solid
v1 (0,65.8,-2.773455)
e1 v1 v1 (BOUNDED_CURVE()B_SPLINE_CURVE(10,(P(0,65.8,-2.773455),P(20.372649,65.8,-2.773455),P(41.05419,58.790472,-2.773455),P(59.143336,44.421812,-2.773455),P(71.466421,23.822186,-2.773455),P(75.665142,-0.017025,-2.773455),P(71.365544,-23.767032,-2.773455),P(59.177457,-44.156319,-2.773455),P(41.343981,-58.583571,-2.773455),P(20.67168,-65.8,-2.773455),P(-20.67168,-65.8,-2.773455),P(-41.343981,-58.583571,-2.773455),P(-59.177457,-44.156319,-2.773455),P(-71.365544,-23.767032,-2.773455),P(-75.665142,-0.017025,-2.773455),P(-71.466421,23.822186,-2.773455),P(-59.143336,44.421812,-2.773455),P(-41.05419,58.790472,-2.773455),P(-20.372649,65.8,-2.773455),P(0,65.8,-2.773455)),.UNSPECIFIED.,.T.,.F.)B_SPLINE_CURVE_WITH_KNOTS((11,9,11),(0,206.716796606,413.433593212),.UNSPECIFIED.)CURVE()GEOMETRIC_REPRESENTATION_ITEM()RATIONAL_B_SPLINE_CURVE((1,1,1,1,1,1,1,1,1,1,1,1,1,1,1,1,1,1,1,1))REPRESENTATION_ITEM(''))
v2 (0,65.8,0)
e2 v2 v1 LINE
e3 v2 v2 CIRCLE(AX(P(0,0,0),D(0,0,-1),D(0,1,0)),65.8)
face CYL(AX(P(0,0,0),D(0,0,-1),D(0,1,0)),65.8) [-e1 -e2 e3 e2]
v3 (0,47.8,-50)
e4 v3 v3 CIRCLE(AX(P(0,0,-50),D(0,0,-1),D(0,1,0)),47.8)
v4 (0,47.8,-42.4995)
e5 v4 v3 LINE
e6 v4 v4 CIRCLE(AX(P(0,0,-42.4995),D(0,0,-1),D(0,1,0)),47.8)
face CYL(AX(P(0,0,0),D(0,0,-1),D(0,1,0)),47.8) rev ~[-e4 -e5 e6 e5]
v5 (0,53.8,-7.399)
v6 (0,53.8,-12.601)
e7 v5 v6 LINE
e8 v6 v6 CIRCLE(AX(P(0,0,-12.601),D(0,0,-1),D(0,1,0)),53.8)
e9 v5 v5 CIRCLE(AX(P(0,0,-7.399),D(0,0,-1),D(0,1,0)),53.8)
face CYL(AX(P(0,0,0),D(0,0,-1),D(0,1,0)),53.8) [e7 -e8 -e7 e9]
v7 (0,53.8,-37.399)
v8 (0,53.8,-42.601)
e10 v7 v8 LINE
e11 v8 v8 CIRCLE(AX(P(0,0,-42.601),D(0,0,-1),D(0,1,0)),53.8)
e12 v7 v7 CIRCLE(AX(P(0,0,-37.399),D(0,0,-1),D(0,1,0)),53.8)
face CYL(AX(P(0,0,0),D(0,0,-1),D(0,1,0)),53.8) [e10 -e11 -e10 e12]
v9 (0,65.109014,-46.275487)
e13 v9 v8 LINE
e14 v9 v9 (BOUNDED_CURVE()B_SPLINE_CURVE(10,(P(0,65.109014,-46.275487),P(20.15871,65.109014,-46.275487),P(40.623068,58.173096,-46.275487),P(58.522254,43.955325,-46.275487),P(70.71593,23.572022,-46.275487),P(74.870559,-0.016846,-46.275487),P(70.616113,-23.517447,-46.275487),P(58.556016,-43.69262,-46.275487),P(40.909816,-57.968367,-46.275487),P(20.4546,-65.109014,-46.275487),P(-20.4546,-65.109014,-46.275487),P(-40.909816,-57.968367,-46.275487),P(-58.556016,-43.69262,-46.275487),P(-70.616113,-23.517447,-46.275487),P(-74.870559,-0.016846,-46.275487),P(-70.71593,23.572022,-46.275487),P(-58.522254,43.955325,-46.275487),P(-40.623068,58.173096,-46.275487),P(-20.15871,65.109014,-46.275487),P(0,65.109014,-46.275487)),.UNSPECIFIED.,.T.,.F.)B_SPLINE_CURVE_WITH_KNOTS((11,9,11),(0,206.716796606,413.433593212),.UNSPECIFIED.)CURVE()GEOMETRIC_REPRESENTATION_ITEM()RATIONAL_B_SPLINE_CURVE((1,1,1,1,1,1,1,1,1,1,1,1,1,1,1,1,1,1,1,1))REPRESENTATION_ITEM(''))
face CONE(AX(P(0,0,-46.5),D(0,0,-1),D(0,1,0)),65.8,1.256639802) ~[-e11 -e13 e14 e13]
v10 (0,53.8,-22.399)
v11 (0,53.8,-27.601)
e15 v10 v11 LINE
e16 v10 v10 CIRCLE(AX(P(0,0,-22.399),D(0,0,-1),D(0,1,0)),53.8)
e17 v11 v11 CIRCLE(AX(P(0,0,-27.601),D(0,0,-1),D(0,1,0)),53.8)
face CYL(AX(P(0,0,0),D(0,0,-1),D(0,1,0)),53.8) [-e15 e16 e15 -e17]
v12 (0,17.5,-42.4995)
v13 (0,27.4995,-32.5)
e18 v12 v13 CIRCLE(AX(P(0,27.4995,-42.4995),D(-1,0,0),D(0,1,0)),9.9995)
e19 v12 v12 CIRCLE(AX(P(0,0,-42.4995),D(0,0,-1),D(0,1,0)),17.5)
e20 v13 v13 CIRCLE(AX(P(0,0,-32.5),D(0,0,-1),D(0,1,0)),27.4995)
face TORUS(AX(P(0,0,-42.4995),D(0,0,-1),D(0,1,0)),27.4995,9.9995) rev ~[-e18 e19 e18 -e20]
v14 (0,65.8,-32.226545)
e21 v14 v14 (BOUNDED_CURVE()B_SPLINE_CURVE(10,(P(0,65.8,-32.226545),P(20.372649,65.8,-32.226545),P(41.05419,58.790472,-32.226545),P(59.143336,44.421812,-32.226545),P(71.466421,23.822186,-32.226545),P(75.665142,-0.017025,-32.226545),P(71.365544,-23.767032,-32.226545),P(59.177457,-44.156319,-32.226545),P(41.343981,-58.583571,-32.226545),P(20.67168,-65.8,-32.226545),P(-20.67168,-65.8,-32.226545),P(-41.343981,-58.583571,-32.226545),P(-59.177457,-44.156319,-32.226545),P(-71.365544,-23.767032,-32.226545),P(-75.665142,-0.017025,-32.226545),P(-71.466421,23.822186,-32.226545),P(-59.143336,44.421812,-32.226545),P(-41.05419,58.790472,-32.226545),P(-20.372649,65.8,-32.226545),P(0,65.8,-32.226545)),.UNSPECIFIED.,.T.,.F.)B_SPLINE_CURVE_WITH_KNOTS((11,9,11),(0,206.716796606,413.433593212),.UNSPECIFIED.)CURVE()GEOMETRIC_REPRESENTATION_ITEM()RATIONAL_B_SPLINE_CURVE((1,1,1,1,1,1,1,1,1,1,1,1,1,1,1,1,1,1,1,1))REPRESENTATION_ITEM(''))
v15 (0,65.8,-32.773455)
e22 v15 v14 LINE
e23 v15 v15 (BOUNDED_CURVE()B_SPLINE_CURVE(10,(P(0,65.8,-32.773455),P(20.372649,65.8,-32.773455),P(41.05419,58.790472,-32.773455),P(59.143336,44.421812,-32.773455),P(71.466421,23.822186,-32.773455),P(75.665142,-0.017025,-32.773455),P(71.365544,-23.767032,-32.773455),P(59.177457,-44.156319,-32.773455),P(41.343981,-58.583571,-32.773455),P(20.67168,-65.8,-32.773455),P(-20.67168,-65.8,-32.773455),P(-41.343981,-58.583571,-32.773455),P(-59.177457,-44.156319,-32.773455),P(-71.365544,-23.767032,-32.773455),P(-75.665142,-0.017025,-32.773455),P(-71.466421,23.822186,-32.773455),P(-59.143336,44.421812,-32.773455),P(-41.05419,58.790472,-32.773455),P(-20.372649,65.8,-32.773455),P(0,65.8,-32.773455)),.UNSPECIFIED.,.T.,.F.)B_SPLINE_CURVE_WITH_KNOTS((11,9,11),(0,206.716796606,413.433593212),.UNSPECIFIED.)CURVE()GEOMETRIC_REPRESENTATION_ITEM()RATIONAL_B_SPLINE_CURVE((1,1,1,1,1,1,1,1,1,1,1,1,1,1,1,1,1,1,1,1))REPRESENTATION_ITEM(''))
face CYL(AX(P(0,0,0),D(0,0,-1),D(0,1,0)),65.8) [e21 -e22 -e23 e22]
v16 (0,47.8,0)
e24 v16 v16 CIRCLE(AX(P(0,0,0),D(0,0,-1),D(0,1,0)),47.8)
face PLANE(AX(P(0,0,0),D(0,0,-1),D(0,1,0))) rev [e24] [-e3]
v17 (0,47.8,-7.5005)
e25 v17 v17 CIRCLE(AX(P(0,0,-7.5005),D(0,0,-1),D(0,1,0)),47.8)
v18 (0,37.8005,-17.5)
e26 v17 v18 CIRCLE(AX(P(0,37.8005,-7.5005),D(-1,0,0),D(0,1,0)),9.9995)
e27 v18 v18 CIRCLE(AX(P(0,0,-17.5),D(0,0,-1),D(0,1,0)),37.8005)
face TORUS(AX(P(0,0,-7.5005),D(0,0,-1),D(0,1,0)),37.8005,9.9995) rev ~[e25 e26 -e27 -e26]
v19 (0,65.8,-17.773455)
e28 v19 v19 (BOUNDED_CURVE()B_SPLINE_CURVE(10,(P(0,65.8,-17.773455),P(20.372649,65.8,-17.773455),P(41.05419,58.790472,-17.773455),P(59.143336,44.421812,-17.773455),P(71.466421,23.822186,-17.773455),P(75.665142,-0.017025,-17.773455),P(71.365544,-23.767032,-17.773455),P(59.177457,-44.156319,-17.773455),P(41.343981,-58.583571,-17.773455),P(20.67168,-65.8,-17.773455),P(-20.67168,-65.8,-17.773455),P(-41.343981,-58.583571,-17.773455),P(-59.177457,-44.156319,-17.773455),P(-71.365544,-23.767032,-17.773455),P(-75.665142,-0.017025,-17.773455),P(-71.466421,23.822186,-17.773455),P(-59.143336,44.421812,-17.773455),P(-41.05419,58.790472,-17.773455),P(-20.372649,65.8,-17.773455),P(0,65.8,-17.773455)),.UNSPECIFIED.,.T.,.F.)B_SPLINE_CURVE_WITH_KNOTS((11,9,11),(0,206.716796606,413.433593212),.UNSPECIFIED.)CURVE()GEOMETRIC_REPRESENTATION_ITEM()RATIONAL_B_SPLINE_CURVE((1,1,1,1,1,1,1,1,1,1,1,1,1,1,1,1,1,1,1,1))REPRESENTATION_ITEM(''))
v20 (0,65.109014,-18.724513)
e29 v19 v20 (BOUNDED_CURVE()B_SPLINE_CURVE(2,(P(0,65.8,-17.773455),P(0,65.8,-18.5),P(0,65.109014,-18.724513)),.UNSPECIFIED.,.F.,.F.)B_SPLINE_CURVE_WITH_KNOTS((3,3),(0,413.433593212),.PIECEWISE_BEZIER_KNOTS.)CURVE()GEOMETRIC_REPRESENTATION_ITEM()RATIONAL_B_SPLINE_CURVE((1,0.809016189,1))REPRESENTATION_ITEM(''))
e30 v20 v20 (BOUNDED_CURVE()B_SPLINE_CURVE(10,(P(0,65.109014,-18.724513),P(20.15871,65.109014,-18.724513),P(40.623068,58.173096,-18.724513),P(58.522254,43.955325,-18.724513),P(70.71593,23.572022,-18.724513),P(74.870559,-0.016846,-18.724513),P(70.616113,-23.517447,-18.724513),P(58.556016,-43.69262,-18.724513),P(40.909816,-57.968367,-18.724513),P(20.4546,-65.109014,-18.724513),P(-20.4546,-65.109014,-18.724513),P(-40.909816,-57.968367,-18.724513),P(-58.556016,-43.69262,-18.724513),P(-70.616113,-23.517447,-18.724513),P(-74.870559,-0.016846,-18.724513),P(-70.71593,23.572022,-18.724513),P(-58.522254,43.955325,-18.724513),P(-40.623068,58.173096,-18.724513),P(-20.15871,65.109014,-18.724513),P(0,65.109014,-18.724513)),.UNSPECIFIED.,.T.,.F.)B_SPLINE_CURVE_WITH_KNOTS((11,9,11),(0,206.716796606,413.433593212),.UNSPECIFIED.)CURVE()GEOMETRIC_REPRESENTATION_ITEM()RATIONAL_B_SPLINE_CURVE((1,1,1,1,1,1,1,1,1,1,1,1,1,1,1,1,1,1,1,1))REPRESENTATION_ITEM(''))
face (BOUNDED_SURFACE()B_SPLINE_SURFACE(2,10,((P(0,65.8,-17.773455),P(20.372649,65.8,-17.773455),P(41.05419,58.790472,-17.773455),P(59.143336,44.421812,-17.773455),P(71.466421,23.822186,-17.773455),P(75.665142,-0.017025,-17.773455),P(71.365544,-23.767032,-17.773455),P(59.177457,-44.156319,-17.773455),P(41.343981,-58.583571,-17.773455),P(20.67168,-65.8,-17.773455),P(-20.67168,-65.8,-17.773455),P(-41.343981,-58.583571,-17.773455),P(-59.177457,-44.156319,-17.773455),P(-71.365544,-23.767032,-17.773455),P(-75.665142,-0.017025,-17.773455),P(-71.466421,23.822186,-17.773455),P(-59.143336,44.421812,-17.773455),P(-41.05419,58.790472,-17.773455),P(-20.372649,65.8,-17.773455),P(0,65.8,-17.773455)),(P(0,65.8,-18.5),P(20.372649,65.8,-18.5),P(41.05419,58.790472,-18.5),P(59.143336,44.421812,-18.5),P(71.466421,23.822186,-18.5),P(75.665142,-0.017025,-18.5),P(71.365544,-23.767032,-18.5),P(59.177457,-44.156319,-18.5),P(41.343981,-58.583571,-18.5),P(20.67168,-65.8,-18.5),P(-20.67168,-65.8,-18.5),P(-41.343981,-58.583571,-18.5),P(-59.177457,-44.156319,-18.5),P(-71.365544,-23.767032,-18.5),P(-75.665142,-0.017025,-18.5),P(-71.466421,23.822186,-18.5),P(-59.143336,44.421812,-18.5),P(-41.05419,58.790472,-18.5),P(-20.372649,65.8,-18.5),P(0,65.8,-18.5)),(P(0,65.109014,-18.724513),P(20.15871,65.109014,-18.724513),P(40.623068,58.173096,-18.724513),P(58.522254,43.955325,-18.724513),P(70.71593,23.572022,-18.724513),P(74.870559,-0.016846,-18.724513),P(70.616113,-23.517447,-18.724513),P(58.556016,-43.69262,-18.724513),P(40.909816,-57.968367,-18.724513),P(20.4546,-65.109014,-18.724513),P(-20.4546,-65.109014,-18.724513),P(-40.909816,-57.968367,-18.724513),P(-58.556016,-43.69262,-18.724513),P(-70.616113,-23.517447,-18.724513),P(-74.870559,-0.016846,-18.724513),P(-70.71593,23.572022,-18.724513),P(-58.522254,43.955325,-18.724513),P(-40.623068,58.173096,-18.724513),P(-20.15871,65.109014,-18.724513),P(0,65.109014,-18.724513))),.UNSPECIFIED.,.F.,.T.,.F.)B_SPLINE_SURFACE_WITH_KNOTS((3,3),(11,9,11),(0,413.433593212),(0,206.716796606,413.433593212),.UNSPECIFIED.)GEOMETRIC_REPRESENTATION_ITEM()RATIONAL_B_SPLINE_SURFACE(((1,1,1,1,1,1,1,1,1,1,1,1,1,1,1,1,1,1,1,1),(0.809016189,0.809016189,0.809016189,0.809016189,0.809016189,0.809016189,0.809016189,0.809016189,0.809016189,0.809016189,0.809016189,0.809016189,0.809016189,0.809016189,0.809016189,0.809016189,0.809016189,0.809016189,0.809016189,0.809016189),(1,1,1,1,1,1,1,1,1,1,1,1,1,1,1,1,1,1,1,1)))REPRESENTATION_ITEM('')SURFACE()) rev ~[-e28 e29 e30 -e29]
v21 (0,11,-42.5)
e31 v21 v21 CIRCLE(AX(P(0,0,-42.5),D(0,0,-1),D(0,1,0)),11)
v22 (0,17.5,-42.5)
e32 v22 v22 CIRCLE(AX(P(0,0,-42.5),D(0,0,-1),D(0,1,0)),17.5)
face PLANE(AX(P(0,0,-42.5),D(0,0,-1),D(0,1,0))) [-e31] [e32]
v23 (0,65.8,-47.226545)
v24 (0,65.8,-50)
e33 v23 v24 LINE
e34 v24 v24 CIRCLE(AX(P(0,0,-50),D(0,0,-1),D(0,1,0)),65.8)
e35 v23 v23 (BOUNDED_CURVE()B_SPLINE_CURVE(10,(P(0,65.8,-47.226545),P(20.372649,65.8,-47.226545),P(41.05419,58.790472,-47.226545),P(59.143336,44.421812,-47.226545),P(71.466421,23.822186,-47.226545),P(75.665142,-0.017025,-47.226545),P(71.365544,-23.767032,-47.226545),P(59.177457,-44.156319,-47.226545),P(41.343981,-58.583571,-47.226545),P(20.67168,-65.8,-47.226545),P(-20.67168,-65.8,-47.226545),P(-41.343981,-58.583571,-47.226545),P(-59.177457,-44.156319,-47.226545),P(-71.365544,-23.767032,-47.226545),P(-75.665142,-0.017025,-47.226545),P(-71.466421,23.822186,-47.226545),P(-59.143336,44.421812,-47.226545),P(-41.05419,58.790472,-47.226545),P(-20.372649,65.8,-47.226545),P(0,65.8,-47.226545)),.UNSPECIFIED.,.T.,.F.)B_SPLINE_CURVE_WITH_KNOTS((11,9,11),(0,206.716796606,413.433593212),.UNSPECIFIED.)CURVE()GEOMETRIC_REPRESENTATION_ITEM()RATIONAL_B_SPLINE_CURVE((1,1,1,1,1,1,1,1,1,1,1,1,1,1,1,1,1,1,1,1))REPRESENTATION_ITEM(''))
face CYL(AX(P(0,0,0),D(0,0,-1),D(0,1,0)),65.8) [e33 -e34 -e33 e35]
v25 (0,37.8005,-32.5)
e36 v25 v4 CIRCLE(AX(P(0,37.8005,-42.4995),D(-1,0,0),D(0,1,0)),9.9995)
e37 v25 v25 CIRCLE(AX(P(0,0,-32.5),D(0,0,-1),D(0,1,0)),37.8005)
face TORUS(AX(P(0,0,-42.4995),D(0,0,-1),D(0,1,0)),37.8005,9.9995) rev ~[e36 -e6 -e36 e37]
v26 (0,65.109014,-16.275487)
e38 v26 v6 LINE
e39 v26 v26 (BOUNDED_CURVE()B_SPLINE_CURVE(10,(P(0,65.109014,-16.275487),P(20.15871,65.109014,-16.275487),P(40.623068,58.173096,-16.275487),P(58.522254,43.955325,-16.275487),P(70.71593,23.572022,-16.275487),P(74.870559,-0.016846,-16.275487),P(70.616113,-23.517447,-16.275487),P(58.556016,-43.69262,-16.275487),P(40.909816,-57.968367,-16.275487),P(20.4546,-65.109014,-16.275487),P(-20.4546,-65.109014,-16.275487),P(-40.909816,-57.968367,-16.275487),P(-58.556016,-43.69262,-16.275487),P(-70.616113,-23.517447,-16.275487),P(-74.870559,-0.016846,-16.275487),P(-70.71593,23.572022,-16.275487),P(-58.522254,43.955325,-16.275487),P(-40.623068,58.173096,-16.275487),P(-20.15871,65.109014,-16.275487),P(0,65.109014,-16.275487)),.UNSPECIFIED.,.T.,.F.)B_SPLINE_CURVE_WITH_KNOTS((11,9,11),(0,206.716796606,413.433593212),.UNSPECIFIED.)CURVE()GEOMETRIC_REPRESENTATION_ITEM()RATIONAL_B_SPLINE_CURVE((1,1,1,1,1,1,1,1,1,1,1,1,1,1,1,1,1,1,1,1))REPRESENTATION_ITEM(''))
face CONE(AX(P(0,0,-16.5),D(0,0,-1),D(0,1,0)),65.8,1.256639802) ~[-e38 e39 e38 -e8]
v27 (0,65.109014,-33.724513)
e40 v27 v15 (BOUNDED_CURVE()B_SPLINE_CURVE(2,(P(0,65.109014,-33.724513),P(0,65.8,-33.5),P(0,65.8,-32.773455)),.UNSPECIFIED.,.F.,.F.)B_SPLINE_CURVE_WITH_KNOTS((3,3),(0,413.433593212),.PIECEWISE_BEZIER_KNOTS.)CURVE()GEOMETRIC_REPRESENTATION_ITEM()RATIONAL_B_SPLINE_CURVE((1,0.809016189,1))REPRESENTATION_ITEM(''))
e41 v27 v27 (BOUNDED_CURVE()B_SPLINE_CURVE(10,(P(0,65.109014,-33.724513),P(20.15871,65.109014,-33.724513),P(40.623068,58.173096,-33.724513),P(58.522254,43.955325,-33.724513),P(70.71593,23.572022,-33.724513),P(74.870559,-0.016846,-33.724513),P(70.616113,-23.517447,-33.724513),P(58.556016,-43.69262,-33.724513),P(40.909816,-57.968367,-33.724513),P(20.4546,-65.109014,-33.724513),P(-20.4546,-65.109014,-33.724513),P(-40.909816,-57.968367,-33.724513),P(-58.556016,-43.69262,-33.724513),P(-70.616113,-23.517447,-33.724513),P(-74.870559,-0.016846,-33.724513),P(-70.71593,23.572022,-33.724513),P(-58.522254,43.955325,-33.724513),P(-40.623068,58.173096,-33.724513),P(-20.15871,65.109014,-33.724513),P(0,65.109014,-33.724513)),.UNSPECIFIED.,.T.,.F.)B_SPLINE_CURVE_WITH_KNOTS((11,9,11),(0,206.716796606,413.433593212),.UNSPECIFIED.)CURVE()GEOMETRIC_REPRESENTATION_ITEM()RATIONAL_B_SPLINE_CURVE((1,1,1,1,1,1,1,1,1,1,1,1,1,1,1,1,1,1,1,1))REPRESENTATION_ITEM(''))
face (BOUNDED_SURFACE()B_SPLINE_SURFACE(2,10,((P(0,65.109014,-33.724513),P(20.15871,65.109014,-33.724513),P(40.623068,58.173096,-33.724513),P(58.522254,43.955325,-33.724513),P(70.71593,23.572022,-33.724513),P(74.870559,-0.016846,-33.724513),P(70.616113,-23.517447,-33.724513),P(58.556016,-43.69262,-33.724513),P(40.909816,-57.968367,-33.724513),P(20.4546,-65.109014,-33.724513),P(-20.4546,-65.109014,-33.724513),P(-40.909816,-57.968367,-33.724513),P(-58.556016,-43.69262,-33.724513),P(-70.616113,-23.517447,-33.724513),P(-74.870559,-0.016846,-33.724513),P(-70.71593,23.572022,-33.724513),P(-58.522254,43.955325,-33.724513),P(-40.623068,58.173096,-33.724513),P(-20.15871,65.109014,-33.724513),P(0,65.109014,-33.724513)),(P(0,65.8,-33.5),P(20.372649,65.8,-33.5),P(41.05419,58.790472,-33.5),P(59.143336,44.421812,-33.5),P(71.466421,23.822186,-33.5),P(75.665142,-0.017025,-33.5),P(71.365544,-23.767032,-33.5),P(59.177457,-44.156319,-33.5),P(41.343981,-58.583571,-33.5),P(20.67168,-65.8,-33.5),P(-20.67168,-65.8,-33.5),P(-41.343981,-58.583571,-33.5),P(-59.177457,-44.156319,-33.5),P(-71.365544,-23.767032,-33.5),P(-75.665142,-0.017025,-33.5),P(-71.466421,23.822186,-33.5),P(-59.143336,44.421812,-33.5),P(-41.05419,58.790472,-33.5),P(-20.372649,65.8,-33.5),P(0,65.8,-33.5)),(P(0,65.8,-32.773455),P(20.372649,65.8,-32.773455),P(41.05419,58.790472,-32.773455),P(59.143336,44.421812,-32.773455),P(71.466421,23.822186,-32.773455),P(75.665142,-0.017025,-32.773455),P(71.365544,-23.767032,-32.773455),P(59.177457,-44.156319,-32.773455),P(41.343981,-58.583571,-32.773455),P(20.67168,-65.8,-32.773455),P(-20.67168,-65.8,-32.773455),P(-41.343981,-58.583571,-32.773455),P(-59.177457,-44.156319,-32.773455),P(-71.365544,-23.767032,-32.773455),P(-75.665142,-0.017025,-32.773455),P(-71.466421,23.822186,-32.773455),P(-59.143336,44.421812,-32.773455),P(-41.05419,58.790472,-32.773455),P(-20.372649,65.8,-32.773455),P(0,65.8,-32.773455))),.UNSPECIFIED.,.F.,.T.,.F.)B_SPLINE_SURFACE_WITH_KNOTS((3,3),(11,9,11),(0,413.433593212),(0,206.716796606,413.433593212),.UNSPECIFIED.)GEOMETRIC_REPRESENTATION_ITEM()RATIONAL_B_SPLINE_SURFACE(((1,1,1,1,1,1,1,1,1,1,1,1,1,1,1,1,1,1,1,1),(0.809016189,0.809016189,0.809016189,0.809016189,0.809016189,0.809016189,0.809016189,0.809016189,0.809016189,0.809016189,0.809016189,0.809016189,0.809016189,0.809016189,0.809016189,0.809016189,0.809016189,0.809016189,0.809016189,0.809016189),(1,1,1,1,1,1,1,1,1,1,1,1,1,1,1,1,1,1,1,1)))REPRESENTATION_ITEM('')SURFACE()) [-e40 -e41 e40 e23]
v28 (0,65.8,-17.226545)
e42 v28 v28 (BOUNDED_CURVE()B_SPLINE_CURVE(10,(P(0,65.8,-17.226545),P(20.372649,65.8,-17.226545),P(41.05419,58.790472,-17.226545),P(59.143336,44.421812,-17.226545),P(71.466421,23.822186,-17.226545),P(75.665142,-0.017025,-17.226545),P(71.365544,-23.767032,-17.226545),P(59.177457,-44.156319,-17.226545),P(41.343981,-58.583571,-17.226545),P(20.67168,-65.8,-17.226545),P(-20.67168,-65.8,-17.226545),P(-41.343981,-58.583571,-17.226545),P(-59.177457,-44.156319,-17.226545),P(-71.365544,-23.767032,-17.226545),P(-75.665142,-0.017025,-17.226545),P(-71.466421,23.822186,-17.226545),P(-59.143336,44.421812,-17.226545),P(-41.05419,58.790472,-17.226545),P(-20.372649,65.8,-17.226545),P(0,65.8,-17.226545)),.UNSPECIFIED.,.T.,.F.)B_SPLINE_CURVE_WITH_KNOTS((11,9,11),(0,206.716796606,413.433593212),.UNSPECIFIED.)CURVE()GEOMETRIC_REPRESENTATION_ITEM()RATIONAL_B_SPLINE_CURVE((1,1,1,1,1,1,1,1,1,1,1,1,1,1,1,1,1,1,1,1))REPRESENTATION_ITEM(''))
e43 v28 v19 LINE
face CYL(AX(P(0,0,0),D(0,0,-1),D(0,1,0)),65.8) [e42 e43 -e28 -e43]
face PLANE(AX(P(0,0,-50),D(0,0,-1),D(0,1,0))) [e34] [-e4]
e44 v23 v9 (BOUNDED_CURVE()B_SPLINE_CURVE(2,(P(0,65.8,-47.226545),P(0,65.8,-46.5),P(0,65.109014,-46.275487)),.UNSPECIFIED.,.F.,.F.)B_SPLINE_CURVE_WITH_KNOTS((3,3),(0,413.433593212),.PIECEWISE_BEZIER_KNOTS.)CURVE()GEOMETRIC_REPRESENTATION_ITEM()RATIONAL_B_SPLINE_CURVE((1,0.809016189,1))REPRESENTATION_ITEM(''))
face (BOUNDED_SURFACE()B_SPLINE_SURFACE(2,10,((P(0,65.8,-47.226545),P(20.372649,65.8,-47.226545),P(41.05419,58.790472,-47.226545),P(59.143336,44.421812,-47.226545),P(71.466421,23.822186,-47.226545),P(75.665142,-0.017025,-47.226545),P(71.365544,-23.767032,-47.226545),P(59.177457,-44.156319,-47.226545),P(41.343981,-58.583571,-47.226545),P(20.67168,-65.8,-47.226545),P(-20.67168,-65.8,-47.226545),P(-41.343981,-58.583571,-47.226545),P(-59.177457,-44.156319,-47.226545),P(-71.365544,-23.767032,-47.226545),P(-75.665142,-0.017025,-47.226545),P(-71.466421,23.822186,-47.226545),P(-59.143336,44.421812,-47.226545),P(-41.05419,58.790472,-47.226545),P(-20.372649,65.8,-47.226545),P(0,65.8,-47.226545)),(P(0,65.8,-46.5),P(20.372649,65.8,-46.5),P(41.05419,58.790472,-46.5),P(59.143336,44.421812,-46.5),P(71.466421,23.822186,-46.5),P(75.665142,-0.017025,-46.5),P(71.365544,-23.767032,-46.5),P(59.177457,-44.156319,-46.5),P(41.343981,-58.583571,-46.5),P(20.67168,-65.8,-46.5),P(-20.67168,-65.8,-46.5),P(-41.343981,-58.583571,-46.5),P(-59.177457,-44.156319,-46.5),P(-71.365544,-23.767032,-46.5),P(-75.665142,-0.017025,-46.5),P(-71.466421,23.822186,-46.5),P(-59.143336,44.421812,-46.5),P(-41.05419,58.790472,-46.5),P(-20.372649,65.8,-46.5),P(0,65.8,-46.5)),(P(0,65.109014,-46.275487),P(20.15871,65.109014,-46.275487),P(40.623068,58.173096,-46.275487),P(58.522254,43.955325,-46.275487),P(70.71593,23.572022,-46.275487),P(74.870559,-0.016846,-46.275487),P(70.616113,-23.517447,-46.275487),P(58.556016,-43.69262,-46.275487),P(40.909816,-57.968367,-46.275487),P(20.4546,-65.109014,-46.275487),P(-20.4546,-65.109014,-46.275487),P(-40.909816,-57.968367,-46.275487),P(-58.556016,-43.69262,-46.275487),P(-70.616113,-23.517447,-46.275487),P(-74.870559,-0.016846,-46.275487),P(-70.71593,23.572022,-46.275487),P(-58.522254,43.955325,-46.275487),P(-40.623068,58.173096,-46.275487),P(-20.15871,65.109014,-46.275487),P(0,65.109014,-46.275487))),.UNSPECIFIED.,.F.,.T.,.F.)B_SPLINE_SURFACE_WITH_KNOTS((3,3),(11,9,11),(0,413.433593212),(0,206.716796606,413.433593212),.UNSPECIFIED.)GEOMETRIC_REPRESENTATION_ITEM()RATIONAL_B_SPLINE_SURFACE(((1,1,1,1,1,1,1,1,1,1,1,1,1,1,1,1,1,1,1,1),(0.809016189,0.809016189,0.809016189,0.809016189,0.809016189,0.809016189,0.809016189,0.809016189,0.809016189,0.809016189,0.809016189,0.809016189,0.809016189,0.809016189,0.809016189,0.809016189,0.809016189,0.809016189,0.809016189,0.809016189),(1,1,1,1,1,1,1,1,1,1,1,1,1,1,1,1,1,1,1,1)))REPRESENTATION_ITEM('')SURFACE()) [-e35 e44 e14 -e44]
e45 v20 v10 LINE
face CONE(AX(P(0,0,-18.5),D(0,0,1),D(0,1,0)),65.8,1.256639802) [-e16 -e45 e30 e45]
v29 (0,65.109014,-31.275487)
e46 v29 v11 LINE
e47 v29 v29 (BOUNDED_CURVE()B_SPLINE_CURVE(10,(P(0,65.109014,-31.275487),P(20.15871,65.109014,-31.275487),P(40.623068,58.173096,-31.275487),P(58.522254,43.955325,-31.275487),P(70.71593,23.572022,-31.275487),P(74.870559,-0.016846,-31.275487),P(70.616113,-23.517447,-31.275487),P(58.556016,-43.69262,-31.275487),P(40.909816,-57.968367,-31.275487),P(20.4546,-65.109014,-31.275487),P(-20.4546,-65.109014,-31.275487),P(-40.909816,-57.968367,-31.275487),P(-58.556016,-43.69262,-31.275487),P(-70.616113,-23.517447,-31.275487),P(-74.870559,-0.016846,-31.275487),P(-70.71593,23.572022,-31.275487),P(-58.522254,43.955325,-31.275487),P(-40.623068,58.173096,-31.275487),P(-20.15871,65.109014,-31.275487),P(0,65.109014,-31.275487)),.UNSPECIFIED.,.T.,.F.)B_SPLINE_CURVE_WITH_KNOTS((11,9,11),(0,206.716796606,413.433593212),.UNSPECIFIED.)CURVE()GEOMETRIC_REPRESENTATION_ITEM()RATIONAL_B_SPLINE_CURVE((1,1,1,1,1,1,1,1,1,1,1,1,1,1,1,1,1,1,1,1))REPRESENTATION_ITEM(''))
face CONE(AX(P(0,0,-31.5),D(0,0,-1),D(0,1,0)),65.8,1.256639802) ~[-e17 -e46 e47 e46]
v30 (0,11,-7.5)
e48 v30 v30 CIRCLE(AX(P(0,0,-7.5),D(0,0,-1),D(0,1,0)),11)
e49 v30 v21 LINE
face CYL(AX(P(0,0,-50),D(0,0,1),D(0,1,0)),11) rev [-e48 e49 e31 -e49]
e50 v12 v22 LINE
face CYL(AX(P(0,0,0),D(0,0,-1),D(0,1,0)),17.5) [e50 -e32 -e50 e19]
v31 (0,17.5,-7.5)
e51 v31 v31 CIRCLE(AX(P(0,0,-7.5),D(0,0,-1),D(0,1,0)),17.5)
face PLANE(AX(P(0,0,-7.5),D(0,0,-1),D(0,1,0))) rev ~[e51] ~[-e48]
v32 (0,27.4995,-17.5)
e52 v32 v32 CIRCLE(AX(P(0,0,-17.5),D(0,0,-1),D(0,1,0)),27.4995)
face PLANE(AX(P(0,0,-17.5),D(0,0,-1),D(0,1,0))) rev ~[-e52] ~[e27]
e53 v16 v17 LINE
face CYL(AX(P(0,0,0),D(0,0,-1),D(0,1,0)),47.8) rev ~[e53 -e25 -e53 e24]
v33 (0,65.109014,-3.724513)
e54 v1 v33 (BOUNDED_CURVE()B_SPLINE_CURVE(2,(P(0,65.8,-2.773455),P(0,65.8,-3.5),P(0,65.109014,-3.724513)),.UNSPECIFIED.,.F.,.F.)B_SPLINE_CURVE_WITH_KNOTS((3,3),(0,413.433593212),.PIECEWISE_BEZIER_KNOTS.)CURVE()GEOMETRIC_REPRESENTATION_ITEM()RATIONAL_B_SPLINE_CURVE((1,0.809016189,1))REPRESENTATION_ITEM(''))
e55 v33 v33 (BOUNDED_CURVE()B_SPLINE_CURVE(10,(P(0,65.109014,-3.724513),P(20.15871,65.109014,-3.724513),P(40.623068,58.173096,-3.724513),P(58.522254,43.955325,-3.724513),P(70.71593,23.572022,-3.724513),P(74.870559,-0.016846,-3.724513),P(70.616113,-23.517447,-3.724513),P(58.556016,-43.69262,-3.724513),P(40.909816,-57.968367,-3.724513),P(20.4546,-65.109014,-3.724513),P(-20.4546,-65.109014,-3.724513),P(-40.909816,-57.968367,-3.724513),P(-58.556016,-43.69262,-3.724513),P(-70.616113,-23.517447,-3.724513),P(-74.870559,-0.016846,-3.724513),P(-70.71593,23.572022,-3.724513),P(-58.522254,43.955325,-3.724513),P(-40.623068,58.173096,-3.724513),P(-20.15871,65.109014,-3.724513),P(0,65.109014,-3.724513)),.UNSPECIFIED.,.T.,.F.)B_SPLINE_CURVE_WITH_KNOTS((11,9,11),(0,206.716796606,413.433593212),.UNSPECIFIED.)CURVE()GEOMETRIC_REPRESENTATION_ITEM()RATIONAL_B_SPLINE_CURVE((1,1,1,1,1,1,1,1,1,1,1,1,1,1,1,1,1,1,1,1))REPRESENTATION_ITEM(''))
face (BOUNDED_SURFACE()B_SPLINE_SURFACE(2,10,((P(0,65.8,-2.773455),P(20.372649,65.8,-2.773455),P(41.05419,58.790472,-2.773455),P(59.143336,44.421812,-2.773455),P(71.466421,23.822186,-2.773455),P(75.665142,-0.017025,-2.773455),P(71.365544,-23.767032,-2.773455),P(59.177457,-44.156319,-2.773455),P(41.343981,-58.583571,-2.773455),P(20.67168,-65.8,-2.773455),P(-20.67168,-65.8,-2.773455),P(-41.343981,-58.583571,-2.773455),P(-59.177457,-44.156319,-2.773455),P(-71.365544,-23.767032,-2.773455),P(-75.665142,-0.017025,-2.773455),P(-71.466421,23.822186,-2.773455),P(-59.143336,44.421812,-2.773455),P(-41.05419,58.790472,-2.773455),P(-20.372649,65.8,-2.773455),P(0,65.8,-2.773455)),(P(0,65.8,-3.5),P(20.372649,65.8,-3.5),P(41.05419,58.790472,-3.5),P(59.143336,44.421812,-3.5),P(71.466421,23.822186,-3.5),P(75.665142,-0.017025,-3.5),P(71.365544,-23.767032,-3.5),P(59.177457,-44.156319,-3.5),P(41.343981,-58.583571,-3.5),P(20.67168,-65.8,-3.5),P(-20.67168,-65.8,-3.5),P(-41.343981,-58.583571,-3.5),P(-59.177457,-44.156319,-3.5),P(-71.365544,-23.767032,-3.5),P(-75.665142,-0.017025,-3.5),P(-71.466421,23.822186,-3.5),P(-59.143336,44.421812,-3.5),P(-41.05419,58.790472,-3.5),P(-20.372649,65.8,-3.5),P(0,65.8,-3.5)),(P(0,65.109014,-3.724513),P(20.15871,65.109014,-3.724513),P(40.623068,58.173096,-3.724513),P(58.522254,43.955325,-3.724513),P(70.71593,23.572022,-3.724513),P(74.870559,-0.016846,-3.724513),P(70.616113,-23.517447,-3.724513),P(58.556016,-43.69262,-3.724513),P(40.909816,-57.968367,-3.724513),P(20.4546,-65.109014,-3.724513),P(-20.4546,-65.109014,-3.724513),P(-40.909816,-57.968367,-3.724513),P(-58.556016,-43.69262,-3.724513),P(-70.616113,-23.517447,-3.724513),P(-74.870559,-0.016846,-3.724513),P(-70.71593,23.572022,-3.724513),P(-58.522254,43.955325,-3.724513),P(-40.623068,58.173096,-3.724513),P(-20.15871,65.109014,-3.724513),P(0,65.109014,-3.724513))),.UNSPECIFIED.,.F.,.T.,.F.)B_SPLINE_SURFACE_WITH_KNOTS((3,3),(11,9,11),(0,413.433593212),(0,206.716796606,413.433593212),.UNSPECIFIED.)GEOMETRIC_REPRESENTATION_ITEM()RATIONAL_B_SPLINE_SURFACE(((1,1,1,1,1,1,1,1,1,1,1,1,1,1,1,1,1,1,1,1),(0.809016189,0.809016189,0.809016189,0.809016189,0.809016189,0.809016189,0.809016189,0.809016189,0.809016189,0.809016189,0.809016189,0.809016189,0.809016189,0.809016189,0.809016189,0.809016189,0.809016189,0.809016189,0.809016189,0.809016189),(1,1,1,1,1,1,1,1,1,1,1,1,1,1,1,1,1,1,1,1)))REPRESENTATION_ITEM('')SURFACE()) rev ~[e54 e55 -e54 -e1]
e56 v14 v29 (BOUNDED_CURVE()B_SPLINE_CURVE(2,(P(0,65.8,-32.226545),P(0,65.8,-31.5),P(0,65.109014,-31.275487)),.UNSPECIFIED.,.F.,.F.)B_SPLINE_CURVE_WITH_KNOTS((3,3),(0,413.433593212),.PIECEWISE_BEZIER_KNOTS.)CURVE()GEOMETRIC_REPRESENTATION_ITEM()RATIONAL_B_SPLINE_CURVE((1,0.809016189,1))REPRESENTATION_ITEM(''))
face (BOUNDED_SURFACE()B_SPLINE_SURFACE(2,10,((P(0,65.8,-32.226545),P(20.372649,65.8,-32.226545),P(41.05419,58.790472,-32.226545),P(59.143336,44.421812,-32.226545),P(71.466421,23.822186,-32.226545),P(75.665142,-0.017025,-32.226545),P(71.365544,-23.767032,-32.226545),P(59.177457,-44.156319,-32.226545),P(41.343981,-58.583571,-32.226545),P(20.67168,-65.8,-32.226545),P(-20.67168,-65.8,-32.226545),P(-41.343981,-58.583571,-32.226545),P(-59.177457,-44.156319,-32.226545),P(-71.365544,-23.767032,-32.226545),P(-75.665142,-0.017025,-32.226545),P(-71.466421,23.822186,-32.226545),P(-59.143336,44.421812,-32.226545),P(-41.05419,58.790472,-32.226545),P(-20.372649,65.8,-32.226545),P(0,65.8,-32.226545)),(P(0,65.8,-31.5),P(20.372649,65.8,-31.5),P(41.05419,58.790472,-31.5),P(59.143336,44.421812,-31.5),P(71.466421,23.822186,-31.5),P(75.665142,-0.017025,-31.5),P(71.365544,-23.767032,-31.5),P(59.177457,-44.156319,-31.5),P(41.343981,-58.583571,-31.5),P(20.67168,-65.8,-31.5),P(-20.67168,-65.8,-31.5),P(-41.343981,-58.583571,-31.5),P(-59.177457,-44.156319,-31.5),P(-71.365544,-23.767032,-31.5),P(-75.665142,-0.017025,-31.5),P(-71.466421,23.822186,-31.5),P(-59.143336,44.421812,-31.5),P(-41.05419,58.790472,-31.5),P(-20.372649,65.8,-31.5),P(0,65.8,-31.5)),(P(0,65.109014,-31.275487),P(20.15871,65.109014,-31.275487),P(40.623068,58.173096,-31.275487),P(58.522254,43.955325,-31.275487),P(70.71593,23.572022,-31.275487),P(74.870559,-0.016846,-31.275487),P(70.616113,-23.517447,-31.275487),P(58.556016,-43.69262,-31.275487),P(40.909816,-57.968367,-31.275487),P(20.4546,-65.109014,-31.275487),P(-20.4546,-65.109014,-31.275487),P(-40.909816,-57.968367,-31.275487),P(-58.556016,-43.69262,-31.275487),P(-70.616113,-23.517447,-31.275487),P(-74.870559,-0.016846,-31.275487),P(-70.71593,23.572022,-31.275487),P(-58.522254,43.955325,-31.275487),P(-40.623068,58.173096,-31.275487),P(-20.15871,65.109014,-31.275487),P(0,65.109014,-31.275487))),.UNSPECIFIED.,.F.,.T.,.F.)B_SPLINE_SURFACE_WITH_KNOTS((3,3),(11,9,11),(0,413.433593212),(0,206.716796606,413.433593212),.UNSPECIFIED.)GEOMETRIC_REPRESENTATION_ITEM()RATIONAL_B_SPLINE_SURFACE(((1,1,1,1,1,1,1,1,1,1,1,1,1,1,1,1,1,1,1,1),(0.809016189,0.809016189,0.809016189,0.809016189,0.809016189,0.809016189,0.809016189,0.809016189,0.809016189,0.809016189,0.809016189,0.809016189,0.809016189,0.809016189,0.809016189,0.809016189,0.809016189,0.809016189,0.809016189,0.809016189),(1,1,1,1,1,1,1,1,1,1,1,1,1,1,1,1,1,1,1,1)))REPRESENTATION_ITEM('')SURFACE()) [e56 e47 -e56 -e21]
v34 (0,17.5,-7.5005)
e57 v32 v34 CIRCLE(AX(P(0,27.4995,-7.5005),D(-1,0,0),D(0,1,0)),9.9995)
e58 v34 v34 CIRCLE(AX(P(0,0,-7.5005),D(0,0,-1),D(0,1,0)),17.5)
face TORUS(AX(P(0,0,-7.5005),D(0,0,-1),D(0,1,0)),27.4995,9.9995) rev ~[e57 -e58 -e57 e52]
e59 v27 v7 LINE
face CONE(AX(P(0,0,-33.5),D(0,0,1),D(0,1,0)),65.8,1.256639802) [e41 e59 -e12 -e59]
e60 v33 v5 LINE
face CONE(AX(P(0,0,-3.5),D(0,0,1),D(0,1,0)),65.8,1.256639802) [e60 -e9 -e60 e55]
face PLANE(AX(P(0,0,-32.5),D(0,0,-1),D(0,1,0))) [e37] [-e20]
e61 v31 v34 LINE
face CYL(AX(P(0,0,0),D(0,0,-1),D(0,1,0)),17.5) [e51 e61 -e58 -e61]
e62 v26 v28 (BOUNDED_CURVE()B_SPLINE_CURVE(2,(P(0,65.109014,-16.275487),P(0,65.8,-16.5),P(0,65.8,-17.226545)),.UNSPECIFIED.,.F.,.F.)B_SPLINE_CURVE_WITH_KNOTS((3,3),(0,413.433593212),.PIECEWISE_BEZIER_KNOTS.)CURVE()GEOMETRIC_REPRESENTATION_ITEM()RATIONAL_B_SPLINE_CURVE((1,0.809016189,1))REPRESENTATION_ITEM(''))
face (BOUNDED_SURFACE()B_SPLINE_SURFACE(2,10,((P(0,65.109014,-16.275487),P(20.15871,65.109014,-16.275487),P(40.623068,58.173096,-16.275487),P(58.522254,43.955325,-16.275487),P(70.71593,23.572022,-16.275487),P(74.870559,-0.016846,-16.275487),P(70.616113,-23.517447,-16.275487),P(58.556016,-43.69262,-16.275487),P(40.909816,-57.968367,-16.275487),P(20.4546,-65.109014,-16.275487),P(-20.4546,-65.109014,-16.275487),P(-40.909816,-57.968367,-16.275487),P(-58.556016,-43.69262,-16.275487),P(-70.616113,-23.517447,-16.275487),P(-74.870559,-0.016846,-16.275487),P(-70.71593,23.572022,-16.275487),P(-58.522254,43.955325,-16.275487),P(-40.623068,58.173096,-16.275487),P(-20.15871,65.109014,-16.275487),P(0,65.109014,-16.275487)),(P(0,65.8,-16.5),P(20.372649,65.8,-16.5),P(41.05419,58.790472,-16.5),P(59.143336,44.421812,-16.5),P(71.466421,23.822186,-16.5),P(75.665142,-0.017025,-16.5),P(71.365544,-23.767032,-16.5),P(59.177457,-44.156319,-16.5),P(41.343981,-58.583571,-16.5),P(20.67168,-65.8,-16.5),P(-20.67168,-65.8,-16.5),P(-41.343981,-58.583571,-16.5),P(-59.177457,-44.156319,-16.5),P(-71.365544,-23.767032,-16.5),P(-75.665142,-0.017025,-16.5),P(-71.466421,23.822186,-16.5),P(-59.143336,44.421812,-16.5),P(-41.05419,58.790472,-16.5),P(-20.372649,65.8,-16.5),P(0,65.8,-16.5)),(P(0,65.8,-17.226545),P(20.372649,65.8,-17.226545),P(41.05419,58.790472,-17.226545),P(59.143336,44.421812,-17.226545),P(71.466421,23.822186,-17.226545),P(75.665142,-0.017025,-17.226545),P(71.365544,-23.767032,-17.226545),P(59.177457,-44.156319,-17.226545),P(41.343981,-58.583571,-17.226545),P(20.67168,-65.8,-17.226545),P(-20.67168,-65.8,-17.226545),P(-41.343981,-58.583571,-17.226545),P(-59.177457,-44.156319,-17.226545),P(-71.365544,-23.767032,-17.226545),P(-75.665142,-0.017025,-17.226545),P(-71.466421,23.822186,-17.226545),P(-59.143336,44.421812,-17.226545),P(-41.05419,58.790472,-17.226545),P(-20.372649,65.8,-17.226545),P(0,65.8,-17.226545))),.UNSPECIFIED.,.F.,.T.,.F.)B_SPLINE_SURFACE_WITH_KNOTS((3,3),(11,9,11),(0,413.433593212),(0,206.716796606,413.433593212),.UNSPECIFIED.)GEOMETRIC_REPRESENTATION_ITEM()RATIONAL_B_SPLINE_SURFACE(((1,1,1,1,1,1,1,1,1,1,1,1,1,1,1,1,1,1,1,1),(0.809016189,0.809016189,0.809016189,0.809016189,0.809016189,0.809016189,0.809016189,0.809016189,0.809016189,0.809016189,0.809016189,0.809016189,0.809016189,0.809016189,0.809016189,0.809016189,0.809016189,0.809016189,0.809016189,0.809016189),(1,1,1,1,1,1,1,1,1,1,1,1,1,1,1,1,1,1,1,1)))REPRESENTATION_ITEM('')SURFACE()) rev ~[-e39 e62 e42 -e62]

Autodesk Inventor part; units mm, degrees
ref_plane "YZ Plane" through (0, 0, 0) normal (1, 0, 0) x (0, 1, 0)
ref_plane "XZ Plane" through (0, 0, 0) normal (0, 1, 0) x (-1, 0, 0)
ref_plane "XY Plane" through (0, 0, 0) normal (0, 0, 1) x (1, 0, 0)
sketch "Náčrt2" plane through (0, 0, 0) normal (1, 0, 0) x (0, 1, 0)
  line L0 (0, 0) -> (0, -50)
  line L1 (0, 0) -> (62.5, 0)
  line L2 (62.5, 0) -> (65.8, 0)
  line L3 (65.8, -50) -> (0, -50)
  line L4 (62.5, 0) -> (53.8, 0)
  line L5 (17.5, 0) -> (17.5, -50)
  line L6 (62.5, 0) -> (62.5, -50) construction
  line L7 (53.8, 0) -> (53.8, -50)
  line L8 (65.8, 0) -> (65.8, -50)
  line L9 (65.8, -17.5) -> (17.5, -17.5)
  line L10 (65.8, -32.5) -> (17.5, -32.5)
  line L11 (65.8, -10) -> (53.8, -10)
  line L12 (65.8, -10) -> (65.8, -16.5) construction
  line L13 (65.8, -16.5) -> (53.8, -12.601)
  line L14 (65.8, -3.5) -> (53.8, -7.399)
  line L15 (65.8, -18.5) -> (53.8, -22.399)
  line L16 (65.8, -31.5) -> (53.8, -27.601)
  line L17 (65.8, -46.5) -> (53.8, -42.601)
  line L18 (65.8, -33.5) -> (53.8, -37.399)
  line L19 (11, -50) -> (11, 0)
  line L20 (65.8, -25) -> (0, -25)
  line L21 (17.5, -7.5) -> (0, -7.5)
  line L22 (17.5, -42.5) -> (0, -42.5)
  line L23 (17.5, -22) -> (53.8, -22)
  line L24 (17.5, -28) -> (53.8, -28)
  line L25 (47.8, 0) -> (47.8, -50)
  point P0 (17.5, -25)
  point P1 (11, -7.5)
  point P2 (11, -42.5)
  point P3 (47.8, -32.5)
  point P4 (47.8, -17.5)
  dimension "d2" = 50
  dimension "d3" = 62.5
  dimension "d4" = 3.3
  dimension "d5" = 50
  dimension "d10" = 17.5
  dimension "d16" = 8.7
  dimension "d27" = 17.5
  dimension "d28" = 15
  dimension "d30" = 10
  dimension "d31" = 6.5
  dimension "d32" = 18
  dimension "d34" = 11
  dimension "d35" = 17.5
  dimension "d36" = 3
  dimension "d37" = 6
revolve "Rotace1" add sketch "Náčrt2" angle 360 about axis through (0, 0, 0) along (0, 0, -1) contours L21 L5 L20 L19 | L20 L5 L22 L19 | L1 L7 L9 L25 | L20 L25 L24 L5 | L5 L23 L25 L20 | L9 L25 L23 L5 | L1 L2 L8 L14 L7 | L9 L7 L23 L25 | L24 L25 L10 L5 | L25 L23 L7 L20 | L20 L7 L24 L25 | L9 L8 L15 L7 | L7 L13 L8 L9 | L24 L7 L10 L25 | L25 L10 L7 L3 | L7 L16 L8 L10 | L7 L17 L8 L3 | L10 L8 L18 L7
fillet "Zaoblení2" radius 1 6 edges at (0, -65.8, -46.5) (0, -65.8, -33.5) (0, -65.8, -31.5) (0, -65.8, -16.5) (0, -65.8, -18.5) (0, -65.8, -3.5)
fillet "Zaoblení3" radius 10 4 edges at (0, -17.5, -17.5) (0, -47.8, -17.5) (0, -17.5, -32.5) (0, -47.8, -32.5)
properties part number "S3-SPS-REMENICE-0"
